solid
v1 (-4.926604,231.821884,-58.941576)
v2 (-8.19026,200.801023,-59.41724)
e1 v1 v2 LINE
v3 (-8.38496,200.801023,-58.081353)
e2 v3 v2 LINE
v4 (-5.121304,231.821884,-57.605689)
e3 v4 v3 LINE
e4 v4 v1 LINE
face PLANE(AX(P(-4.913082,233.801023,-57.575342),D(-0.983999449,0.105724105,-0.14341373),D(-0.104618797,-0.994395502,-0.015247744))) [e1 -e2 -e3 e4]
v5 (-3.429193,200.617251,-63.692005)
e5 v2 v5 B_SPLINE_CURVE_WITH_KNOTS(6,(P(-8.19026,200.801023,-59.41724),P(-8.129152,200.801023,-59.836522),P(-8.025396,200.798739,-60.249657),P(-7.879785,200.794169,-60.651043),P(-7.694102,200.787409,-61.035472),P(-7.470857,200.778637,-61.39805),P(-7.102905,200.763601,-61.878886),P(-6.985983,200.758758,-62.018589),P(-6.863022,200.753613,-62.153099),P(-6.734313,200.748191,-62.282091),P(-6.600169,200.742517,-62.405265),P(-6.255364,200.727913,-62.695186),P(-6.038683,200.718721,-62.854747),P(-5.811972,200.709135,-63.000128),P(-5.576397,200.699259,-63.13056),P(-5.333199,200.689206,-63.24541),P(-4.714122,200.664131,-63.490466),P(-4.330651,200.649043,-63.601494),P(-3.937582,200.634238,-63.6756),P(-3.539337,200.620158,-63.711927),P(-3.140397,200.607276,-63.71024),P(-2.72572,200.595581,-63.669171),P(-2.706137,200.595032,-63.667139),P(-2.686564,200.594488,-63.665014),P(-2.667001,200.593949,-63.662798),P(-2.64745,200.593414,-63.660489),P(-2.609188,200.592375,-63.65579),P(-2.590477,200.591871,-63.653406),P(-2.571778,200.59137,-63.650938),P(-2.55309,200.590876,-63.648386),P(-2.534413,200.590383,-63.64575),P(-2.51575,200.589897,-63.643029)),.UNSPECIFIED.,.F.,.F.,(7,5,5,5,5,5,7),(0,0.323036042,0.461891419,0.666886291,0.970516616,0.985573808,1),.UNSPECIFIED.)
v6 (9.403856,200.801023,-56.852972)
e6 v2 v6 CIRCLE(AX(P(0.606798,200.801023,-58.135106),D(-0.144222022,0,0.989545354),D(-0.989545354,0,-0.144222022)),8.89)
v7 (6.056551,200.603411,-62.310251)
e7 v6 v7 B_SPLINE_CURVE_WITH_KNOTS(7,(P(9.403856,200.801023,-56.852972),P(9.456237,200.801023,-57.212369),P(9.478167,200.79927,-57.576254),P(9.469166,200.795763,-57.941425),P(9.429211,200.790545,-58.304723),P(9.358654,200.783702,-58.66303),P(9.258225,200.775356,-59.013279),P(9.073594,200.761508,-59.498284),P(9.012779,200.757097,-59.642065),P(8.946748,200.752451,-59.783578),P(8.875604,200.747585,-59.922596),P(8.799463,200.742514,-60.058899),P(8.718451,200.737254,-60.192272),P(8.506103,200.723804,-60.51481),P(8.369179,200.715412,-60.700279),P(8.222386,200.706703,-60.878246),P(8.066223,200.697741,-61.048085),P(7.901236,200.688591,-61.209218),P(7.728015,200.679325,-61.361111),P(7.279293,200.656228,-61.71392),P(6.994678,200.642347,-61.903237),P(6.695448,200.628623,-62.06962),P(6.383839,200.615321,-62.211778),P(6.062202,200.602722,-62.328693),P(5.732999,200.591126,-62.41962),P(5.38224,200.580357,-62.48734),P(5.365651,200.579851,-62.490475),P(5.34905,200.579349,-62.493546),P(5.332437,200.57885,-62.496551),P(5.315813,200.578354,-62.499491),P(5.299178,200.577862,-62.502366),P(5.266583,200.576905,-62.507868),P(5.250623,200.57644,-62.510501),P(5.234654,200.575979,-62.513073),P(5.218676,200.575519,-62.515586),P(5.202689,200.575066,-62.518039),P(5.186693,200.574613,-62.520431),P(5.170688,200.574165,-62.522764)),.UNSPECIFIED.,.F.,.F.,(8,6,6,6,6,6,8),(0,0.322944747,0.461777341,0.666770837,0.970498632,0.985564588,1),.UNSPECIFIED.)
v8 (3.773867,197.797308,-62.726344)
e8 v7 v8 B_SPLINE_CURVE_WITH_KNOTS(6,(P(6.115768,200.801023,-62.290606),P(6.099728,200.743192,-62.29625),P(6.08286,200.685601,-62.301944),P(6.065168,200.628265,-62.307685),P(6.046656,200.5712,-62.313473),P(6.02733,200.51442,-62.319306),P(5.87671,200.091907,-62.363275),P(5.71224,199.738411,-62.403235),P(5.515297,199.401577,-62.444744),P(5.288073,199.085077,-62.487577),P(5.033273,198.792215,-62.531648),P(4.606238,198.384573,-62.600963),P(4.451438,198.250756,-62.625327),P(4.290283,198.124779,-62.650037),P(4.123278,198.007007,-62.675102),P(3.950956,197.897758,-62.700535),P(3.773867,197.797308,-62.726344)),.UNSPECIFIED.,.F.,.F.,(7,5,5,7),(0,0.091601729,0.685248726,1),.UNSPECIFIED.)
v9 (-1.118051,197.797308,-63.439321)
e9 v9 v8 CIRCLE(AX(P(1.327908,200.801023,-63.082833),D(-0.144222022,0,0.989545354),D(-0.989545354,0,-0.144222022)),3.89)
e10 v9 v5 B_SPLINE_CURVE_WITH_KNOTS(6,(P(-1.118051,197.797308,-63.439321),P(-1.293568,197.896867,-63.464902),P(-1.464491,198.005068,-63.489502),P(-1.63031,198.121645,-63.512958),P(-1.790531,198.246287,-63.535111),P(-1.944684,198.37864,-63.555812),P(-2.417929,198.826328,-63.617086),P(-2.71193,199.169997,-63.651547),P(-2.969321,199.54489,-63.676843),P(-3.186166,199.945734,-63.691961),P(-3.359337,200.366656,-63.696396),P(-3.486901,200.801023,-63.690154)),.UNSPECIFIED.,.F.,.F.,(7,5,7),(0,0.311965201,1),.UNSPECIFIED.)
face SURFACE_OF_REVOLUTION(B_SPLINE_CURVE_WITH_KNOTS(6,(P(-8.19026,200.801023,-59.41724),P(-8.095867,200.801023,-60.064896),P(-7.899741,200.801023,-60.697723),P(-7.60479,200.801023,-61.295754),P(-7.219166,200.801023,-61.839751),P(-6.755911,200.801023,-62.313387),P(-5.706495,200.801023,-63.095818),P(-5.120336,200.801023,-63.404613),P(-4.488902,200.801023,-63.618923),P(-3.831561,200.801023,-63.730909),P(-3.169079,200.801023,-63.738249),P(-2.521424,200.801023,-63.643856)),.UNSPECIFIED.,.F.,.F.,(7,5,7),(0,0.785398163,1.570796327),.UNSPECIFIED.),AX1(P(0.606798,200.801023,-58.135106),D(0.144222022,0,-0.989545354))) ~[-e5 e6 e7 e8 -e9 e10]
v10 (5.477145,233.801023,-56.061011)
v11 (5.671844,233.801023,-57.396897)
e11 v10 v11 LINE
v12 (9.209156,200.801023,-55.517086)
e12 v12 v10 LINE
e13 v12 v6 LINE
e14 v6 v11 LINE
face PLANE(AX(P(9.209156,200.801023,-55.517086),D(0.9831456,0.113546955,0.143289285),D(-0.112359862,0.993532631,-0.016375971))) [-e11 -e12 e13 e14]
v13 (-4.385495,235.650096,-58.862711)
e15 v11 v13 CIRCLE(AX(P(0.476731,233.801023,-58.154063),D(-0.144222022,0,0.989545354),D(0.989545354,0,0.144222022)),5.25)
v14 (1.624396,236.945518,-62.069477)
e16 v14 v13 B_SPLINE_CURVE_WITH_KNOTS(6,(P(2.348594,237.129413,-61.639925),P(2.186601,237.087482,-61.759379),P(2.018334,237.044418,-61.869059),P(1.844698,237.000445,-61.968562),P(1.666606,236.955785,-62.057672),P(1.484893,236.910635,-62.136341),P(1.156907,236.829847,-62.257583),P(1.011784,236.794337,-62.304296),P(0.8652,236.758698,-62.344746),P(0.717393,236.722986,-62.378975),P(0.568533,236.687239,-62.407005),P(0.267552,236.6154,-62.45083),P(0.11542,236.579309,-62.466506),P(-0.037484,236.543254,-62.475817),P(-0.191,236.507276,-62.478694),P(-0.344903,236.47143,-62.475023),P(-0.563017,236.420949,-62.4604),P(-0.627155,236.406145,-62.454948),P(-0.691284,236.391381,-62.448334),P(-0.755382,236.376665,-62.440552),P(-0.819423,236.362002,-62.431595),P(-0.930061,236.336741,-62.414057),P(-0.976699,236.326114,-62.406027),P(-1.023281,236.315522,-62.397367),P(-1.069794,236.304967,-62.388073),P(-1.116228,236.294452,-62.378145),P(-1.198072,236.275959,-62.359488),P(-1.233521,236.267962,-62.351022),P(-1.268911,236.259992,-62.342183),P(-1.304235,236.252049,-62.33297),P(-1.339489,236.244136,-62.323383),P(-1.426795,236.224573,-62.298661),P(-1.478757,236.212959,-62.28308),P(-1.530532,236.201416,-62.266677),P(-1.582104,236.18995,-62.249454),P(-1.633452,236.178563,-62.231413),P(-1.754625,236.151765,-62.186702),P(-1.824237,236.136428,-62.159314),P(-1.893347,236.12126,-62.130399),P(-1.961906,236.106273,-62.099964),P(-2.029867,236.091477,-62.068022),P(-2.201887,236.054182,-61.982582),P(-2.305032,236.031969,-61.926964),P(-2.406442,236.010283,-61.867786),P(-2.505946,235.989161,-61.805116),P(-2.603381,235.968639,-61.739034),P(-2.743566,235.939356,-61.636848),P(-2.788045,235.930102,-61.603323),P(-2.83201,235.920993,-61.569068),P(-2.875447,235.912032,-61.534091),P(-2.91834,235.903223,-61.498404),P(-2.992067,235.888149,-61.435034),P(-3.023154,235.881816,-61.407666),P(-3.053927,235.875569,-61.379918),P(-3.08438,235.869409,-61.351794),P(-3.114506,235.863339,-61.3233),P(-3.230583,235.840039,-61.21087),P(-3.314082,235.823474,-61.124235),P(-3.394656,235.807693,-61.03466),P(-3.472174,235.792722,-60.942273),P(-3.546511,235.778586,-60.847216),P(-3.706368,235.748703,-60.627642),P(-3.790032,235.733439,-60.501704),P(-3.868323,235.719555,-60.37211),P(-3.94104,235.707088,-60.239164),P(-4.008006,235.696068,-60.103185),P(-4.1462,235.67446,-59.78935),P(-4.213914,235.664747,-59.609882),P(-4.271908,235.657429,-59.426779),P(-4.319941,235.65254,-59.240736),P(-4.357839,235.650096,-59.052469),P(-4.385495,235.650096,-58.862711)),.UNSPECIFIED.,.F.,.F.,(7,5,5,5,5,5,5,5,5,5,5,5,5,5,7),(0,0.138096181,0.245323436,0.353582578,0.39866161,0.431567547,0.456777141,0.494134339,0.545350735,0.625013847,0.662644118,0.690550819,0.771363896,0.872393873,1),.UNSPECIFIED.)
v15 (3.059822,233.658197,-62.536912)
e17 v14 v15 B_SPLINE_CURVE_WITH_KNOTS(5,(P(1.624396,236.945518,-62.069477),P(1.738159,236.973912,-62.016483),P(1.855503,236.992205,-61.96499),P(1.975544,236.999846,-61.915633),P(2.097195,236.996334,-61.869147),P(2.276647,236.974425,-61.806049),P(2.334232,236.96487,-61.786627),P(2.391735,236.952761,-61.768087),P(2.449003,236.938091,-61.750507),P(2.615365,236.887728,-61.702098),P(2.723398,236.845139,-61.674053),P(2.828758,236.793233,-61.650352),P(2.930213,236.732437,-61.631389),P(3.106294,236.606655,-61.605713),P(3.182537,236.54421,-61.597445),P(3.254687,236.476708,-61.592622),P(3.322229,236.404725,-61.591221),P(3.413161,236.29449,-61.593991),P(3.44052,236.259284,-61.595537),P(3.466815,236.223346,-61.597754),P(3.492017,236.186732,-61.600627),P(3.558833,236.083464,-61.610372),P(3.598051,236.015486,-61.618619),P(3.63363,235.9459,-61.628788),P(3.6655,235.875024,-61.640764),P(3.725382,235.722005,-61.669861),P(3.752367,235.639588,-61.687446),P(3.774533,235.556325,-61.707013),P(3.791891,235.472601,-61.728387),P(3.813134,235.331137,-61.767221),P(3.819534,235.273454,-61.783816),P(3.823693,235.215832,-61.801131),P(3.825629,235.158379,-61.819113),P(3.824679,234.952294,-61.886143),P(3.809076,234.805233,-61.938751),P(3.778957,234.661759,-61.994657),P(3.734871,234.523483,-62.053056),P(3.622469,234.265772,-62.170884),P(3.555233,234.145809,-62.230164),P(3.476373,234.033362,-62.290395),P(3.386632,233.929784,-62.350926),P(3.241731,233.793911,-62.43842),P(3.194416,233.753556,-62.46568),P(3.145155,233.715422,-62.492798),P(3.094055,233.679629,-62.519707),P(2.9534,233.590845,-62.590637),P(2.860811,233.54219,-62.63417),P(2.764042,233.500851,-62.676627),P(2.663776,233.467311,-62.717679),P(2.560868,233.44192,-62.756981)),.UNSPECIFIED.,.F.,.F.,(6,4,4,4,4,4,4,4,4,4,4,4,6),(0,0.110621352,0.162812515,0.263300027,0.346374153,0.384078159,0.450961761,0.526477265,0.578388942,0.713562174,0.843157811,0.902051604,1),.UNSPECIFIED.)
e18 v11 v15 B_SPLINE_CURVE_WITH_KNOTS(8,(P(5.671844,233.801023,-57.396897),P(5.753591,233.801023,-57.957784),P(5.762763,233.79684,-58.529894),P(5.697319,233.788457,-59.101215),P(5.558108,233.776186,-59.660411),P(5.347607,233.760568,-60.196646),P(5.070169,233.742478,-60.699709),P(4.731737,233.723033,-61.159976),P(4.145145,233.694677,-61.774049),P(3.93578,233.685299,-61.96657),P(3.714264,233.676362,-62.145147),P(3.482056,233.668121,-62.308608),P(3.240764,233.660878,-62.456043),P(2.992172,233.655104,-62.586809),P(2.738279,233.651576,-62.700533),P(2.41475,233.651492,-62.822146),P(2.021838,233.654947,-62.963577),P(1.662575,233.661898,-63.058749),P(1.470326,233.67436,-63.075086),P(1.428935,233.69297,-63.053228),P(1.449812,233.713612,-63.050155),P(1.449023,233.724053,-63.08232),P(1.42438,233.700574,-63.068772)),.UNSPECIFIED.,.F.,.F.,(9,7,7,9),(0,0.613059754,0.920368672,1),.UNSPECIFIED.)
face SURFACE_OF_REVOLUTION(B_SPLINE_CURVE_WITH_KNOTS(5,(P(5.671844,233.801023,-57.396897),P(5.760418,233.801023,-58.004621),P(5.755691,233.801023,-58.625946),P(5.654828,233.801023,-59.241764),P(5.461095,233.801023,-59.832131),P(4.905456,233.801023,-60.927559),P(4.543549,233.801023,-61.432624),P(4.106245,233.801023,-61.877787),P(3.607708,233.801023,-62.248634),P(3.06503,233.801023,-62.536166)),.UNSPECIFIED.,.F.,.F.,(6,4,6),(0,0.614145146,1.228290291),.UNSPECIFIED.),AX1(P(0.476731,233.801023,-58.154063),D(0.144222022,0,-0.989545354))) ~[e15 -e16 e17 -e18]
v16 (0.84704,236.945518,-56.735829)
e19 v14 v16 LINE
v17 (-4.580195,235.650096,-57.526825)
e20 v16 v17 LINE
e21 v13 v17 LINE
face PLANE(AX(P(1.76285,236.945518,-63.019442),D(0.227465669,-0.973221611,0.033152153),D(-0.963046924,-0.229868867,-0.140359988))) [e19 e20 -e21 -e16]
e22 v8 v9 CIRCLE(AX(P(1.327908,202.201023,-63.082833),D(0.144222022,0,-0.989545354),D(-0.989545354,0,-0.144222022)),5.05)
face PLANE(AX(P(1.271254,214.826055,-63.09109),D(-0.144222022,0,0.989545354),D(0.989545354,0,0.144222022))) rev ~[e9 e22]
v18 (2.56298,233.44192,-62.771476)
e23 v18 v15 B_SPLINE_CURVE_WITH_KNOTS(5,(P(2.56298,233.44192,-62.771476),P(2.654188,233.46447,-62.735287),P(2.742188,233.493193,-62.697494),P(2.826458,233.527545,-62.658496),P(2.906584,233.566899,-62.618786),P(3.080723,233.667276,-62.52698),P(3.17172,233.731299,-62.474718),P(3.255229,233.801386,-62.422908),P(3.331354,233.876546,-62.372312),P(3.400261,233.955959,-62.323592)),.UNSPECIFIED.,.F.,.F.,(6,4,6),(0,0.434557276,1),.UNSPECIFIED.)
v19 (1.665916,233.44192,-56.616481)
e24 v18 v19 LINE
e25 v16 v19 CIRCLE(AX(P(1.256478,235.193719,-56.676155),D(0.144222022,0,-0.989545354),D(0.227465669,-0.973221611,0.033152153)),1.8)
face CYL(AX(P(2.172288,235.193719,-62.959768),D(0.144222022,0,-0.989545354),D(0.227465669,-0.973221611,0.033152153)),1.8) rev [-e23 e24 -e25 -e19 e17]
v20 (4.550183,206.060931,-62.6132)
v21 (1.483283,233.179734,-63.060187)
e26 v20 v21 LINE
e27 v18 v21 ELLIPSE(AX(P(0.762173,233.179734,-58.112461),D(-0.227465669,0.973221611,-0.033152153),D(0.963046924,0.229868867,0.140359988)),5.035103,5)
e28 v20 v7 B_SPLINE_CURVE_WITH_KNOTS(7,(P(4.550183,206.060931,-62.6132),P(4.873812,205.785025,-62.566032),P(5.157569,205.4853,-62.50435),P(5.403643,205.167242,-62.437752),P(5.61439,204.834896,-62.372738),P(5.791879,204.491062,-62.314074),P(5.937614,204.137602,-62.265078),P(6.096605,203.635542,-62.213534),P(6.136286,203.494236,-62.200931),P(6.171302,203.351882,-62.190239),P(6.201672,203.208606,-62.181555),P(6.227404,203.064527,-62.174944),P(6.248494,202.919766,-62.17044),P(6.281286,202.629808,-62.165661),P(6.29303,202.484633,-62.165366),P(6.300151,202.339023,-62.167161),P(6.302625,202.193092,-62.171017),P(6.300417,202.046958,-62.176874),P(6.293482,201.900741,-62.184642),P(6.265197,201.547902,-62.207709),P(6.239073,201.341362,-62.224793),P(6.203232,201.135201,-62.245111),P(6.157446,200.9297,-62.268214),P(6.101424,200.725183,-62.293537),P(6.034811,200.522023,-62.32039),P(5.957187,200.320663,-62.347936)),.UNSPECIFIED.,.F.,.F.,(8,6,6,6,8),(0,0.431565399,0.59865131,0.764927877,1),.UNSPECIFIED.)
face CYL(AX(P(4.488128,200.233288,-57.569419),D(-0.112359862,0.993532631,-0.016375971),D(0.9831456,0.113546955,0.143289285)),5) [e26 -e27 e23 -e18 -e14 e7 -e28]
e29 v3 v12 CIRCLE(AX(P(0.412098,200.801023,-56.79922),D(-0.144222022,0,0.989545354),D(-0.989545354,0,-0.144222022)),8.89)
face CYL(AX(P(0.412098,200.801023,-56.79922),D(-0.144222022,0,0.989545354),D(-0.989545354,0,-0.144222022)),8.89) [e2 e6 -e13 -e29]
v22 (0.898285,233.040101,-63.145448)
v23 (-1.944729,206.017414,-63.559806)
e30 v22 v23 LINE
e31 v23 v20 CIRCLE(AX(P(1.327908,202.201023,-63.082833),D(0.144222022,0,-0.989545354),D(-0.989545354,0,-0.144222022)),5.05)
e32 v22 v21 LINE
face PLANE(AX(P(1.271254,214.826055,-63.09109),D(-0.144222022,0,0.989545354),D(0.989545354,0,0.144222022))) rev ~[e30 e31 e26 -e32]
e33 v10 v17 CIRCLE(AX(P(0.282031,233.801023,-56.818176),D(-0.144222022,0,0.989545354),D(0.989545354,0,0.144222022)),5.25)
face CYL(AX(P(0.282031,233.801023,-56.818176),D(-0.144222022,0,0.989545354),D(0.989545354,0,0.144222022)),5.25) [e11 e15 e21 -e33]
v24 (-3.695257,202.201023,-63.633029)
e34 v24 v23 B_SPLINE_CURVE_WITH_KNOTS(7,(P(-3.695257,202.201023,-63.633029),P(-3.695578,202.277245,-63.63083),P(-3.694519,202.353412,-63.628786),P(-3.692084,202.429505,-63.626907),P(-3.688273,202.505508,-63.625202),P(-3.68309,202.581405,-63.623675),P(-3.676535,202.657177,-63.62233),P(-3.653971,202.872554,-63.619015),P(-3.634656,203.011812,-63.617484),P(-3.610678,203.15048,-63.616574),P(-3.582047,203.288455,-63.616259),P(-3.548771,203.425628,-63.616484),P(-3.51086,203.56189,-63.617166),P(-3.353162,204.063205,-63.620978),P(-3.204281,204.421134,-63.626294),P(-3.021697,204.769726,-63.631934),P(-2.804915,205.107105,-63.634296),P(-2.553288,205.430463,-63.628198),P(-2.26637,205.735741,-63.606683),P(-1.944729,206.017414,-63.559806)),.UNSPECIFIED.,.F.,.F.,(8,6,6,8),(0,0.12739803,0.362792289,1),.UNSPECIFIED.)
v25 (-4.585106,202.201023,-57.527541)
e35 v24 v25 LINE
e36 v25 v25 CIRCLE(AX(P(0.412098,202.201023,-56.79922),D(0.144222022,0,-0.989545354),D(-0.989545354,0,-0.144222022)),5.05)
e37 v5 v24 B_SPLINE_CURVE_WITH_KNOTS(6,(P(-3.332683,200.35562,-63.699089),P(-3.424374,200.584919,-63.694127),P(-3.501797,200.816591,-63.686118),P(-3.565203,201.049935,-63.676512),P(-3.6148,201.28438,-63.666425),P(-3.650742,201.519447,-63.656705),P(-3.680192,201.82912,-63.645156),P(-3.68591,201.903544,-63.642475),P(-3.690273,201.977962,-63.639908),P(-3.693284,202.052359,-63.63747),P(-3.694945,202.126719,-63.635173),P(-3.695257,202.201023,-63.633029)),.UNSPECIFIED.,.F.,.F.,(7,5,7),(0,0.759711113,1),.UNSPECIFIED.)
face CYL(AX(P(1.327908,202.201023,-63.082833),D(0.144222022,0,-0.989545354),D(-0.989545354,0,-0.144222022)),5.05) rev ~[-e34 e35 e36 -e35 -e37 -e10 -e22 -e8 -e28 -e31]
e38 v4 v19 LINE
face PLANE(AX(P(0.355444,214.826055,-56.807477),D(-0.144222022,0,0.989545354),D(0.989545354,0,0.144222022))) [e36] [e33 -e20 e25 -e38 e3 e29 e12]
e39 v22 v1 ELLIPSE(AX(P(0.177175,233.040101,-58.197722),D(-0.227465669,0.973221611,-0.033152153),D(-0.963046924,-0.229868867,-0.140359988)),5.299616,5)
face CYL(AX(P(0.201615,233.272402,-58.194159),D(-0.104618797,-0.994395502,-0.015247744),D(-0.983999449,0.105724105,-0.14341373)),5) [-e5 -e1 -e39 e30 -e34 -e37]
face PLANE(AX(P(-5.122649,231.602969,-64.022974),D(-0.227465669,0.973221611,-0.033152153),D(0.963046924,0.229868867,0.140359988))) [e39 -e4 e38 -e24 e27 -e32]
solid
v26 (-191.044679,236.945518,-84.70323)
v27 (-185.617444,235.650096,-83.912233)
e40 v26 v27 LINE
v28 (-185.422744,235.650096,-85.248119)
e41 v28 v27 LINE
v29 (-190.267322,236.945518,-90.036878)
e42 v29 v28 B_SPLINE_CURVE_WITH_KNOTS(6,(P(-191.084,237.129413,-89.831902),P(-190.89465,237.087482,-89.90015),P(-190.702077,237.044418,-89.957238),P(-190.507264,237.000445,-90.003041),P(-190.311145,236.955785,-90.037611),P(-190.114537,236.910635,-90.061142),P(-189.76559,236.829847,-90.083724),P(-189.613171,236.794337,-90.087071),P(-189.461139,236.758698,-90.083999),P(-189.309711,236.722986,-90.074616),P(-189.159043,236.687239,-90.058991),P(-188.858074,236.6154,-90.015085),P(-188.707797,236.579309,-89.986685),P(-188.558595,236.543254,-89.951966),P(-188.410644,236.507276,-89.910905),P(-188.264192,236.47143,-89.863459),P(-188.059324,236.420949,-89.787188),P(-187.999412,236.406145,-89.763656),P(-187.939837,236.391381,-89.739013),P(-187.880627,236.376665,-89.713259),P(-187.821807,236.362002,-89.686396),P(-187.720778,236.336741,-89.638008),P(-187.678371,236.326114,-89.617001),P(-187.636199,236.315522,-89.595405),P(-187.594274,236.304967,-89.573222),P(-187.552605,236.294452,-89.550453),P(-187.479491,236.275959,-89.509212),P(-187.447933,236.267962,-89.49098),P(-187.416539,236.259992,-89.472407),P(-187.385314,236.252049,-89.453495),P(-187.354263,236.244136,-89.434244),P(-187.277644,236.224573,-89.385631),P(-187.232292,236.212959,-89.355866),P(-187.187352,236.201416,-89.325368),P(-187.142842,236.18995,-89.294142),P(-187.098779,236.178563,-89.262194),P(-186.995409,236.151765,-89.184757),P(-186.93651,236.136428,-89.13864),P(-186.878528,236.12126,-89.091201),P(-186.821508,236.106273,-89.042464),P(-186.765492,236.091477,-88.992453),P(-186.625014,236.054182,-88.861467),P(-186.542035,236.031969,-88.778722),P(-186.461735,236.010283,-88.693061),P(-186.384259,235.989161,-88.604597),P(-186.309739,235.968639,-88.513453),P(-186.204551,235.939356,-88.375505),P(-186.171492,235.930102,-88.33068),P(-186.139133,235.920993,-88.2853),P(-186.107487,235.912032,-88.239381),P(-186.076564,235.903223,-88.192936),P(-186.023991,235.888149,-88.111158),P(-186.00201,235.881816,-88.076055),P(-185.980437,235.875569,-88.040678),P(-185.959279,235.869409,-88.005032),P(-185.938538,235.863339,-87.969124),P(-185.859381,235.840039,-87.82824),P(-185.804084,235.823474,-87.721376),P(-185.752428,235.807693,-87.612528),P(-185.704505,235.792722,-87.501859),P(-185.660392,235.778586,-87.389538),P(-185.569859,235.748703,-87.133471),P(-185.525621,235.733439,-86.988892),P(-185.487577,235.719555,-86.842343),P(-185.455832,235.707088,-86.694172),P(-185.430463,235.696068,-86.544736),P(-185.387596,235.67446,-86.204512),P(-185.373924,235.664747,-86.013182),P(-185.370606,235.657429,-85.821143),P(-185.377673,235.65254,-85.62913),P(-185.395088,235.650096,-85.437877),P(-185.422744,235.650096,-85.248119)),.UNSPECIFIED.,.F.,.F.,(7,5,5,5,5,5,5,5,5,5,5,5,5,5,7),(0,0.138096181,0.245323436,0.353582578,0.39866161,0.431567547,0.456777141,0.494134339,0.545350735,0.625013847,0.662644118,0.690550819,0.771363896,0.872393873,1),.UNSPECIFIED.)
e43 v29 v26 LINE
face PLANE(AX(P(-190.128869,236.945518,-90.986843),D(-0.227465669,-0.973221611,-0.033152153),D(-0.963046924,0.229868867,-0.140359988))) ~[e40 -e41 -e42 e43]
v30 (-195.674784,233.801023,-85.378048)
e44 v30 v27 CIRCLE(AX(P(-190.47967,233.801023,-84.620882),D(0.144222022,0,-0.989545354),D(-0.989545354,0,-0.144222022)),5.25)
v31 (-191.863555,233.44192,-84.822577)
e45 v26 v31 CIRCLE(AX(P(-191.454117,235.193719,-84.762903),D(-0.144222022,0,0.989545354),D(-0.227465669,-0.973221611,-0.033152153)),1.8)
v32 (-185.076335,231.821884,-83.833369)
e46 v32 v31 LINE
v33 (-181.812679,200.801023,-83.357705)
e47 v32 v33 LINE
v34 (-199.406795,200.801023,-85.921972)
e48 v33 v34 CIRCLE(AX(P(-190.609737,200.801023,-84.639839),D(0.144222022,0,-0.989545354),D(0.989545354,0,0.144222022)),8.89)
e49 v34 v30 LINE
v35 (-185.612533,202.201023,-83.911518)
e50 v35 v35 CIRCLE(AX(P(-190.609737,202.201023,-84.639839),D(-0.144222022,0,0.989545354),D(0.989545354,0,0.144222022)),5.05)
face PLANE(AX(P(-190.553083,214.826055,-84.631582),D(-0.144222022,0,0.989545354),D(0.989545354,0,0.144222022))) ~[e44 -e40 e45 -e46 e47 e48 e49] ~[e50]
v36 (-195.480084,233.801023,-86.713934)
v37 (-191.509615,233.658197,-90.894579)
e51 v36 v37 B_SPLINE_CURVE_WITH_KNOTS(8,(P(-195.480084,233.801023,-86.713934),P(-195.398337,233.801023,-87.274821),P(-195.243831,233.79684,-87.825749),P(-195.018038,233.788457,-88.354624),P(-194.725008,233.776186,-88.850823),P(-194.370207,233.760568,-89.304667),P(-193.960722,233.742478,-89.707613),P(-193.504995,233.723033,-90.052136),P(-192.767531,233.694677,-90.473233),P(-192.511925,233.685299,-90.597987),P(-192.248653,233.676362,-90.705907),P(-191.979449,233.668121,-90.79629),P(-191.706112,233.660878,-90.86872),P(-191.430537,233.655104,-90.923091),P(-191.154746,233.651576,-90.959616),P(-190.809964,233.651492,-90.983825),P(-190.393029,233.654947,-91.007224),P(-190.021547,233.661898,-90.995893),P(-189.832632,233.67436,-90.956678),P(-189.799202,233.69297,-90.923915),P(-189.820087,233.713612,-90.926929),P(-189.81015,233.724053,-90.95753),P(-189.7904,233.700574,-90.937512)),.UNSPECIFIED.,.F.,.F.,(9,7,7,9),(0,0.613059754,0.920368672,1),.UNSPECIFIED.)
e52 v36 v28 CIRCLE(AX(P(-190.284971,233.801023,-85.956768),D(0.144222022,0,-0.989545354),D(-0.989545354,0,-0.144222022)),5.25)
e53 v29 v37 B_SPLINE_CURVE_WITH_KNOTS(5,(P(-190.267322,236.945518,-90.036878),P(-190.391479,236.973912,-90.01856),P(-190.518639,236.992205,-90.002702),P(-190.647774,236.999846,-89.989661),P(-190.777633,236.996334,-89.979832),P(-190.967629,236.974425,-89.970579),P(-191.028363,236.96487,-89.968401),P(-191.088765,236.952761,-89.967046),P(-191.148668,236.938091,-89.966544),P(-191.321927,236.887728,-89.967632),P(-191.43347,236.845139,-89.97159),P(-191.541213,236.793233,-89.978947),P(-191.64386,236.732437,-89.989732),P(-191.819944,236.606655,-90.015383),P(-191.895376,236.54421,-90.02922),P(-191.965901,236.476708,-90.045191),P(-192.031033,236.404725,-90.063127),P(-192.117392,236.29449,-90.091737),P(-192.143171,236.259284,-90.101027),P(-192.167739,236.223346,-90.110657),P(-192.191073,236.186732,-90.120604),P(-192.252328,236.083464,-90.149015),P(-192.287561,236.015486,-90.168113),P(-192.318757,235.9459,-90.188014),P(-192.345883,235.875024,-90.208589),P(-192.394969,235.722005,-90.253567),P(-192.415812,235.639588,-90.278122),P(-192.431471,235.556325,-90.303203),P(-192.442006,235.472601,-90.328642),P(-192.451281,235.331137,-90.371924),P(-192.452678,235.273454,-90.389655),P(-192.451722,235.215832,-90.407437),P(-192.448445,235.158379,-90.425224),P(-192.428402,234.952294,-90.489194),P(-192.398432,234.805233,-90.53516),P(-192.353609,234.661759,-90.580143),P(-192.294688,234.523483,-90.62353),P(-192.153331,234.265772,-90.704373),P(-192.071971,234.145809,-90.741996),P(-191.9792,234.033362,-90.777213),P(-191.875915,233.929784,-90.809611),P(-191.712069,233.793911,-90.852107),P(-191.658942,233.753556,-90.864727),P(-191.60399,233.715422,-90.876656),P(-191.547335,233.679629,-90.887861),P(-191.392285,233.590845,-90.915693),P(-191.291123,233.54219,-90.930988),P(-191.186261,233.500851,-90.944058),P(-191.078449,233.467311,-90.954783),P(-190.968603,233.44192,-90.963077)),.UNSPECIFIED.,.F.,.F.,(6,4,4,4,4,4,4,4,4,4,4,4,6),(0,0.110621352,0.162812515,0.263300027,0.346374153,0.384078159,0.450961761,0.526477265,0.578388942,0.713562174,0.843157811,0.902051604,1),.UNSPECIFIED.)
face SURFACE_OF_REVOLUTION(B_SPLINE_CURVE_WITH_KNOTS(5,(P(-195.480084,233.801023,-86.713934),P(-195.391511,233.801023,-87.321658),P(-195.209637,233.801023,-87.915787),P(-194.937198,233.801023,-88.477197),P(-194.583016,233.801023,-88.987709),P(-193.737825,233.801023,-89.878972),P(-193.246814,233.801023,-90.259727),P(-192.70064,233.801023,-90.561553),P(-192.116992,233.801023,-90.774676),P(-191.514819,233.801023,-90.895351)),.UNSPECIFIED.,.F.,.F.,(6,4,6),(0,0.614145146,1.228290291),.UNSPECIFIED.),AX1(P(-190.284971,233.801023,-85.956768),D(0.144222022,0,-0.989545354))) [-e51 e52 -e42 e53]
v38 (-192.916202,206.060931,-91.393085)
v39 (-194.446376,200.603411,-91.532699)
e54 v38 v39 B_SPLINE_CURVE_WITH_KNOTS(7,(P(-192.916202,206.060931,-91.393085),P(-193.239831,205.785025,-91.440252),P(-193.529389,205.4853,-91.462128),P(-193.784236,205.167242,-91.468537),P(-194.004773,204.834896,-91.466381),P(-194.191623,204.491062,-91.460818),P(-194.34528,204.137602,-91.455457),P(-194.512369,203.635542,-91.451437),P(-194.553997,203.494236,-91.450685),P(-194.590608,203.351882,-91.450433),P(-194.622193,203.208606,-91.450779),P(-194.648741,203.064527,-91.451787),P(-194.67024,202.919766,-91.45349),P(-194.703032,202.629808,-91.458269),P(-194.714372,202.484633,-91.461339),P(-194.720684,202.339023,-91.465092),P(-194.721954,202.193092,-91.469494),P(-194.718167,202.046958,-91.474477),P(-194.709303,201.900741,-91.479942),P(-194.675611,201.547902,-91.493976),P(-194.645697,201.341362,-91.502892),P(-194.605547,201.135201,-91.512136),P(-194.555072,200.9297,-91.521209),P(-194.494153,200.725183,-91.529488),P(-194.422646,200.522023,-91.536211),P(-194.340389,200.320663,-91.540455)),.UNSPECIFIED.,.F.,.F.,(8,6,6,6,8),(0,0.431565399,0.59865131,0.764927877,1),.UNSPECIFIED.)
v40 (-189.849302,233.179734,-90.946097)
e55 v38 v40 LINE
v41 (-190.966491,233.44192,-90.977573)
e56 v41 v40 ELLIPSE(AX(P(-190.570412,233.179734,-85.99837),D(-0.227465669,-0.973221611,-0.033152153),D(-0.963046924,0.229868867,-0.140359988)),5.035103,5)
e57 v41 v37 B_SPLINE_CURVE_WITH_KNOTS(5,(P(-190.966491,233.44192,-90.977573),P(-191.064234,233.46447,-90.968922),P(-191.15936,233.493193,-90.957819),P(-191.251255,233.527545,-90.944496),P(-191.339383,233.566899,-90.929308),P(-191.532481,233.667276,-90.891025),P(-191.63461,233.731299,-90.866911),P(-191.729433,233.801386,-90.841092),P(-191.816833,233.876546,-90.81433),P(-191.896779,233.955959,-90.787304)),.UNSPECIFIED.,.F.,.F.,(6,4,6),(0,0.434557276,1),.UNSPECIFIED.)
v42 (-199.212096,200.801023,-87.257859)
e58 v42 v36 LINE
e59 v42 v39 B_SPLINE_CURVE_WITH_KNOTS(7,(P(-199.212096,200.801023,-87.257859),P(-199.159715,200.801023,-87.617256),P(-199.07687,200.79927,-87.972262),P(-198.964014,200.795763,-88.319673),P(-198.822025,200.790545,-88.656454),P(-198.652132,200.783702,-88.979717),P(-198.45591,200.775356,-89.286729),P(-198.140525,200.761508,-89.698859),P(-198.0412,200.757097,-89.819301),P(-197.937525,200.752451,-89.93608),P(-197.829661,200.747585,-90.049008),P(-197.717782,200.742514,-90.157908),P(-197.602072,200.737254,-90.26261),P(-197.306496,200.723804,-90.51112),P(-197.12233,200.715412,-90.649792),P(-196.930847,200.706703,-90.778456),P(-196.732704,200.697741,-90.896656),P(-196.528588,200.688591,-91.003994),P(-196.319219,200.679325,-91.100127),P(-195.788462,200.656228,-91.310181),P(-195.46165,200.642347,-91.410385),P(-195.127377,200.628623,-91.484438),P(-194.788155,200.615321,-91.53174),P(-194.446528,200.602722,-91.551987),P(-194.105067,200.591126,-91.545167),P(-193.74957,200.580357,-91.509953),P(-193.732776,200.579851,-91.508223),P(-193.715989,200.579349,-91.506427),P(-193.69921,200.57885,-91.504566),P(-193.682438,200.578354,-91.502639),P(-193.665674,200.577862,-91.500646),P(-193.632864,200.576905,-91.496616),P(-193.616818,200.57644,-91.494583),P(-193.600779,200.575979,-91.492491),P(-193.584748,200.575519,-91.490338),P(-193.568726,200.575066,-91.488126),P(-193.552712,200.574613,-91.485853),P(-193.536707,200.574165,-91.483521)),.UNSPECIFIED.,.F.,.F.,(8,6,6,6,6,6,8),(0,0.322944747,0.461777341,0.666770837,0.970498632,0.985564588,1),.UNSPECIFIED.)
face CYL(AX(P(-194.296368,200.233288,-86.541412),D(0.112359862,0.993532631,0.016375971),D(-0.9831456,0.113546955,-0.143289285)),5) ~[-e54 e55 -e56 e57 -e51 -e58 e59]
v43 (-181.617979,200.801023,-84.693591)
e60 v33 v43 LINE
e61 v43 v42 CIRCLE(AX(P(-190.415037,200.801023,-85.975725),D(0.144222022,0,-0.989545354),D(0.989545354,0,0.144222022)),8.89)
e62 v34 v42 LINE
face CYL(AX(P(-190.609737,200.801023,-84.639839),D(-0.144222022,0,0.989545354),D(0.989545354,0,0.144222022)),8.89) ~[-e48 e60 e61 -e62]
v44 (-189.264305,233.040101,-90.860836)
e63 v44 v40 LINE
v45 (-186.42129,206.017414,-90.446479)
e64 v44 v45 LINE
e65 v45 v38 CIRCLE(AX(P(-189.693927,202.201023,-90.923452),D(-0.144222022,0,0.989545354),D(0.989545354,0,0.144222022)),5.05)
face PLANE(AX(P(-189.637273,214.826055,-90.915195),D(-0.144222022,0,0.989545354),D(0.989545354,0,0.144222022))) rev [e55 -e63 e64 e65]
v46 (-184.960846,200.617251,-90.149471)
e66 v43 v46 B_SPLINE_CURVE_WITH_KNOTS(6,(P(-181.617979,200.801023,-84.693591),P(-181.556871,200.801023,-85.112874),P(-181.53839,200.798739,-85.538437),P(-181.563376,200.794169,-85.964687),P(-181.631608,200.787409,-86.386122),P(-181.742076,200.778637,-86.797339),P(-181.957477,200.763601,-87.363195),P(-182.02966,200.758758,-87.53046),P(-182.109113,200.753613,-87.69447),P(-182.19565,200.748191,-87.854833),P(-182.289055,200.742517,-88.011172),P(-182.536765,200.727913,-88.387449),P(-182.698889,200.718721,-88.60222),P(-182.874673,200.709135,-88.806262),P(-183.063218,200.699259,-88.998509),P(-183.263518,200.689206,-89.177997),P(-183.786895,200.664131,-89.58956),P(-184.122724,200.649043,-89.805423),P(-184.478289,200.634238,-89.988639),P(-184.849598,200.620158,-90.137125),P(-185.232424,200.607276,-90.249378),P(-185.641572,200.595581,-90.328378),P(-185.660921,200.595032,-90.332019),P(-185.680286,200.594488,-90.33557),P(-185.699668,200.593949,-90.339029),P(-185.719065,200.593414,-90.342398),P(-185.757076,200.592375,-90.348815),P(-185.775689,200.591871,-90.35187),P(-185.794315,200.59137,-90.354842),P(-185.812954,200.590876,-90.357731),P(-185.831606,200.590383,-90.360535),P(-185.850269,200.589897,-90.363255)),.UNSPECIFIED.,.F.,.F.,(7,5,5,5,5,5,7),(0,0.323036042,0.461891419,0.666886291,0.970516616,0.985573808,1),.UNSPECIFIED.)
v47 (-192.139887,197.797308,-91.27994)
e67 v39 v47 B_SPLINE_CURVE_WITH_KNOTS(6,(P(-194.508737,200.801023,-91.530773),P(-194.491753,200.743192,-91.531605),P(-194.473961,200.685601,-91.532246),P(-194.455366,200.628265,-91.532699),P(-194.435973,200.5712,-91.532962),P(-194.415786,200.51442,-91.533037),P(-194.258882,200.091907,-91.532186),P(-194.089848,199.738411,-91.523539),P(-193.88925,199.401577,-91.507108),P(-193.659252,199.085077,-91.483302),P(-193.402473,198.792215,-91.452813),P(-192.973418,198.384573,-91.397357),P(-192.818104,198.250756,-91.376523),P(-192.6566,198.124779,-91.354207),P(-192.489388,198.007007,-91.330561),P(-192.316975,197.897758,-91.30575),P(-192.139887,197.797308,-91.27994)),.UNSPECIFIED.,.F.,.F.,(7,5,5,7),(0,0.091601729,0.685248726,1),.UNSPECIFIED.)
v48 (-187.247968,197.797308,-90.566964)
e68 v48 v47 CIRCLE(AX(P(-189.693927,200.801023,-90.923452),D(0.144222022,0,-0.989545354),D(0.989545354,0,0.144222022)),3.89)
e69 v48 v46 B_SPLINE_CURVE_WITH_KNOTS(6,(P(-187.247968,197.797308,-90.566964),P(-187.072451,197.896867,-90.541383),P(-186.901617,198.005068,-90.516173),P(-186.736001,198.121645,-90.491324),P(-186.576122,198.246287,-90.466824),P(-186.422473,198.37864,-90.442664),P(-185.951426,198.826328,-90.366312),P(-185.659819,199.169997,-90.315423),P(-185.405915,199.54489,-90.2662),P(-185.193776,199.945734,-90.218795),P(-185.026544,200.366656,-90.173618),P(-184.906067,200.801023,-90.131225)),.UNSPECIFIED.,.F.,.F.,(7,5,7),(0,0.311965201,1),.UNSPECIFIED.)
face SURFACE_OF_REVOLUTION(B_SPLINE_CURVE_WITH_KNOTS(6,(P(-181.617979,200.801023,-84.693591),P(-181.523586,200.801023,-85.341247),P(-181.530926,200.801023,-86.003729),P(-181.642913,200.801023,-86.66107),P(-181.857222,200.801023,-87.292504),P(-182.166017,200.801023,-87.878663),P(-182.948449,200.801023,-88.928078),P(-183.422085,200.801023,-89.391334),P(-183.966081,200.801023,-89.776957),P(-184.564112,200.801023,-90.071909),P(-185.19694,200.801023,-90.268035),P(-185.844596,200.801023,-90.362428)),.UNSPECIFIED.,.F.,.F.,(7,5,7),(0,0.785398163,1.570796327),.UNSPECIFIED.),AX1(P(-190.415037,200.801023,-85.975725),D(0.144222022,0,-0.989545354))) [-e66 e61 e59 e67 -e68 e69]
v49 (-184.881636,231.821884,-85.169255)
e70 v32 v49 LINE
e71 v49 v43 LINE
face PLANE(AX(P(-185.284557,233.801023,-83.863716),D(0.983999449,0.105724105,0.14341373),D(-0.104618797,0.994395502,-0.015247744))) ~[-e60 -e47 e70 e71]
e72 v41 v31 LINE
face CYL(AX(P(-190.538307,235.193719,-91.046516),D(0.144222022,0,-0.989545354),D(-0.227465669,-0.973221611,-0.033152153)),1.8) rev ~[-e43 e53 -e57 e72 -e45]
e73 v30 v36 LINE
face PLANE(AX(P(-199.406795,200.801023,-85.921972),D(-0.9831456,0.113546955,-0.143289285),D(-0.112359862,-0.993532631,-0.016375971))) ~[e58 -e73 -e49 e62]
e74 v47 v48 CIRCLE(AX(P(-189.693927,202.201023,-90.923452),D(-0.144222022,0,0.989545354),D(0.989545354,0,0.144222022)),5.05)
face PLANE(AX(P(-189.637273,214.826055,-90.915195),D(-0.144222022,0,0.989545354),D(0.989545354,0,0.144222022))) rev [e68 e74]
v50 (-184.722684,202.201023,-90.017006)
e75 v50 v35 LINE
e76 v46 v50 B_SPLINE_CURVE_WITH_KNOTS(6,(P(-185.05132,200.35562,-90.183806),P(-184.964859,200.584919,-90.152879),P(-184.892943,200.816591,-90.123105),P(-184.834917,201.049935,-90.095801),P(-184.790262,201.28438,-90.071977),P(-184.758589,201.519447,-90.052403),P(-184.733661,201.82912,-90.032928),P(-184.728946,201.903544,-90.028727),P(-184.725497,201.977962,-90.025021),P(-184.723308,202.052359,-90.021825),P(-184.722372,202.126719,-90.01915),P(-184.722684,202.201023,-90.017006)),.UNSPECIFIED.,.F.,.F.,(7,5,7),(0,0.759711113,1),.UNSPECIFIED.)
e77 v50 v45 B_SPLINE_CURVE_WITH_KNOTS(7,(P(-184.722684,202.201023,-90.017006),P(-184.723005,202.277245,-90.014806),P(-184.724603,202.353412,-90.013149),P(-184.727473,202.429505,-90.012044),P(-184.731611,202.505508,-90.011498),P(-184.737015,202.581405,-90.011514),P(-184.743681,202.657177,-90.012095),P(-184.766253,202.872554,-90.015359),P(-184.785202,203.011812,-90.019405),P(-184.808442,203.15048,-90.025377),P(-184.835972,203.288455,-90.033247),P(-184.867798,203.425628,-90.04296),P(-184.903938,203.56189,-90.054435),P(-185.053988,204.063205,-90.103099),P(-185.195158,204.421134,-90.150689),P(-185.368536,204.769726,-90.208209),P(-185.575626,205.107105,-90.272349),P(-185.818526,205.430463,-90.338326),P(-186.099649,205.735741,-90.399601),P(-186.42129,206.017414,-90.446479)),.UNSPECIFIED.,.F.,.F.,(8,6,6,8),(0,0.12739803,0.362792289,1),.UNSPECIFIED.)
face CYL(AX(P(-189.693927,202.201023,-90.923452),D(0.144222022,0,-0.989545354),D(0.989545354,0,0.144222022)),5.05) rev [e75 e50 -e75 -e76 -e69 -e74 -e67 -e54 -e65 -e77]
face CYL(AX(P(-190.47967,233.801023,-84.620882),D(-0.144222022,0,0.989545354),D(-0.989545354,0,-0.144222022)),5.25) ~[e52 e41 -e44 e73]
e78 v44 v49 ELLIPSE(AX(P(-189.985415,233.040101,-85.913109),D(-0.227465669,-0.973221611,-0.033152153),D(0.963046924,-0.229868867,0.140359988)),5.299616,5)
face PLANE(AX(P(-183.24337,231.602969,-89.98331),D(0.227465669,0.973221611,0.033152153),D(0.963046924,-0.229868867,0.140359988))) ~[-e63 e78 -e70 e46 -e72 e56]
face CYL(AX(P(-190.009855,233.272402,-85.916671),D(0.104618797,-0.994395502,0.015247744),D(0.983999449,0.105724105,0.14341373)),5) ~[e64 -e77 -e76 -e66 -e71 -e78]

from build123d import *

# Parameters (mm, degrees)
BASE_EXTRUDE_DEPTH = 6.35
FILLET1_R          = 5
CUT_EXTRUDE1_REACH = 245.045
SKETCH4_R          = 5.05
CUT_EXTRUDE2_DEPTH = 6.35


with BuildPart() as part:
    # Sketch1 → Base Extrude (new body)
    with BuildSketch(Plane(origin=(8.114628625, -3.283425705, -55.67660861), x_dir=(-0.98954535441322, 0, -0.14422202175539944), z_dir=(0.14422202175539944, 0, -0.98954535441322))):
        with BuildLine():
            Line((-1.106091457, 204.084448373), (2.665349365, 237.084448373))
            ThreePointArc((2.665349365, 237.084448373), (7.915349365, 242.334448373), (13.165349365, 237.084448373))
            Line((13.165349365, 237.084448373), (16.673908543, 204.084448373))
            ThreePointArc((16.673908543, 204.084448373), (7.783908543, 195.194448373), (-1.106091457, 204.084448373))
        make_face()
    extrude(amount=BASE_EXTRUDE_DEPTH)

    # Fillet1
    fillet1_edges = [part.edges().sort_by_distance(p)[0] for p in [
        (1.19784127, 239.051022668, -63.101789298),
        (8.258960253, 217.301022668, -62.072661274),
        (1.327907925, 191.911022668, -63.082832637),
        (-5.733211058, 217.301022668, -64.111960662),
    ]]
    fillet(fillet1_edges, radius=FILLET1_R)

    # Cut-Extrude1: up to this face of the body (flat: up to its plane)
    cut_extrude1_end = Plane(part.part.faces().sort_by_distance((0.359463879, 213.5685835, -56.806890849))[0])
    # Sketch3 → Cut-Extrude1 (cut, up to the picked face)
    with BuildSketch(Plane(origin=(9.030438463, -3.283425705, -61.96022161), x_dir=(-0.98954535441322, 0, -0.14422202175539942), z_dir=(0.14422202175539942, 0, -0.98954535441322)), mode=Mode.PRIVATE) as cut_extrude1_sk1:
        with BuildLine():
            Line((14.3026167, 234.886394841), (6.516843813, 236.725345777))
            ThreePointArc((6.516843813, 236.725345777), (5.178808874, 238.890908637), (7.344371734, 240.228943576))
            Line((7.344371734, 240.228943576), (15.130144622, 238.38999264))
            ThreePointArc((15.130144622, 238.38999264), (16.468179561, 236.22442978), (14.3026167, 234.886394841))
        make_face()
    cut_extrude1_tool1 = split(extrude(cut_extrude1_sk1.sketch, amount=-CUT_EXTRUDE1_REACH, mode=Mode.PRIVATE), bisect_by=cut_extrude1_end, keep=Keep.BOTH, mode=Mode.PRIVATE)
    add(cut_extrude1_tool1.solids().sort_by(Axis((-1.6799, 234.274244, -63.521208), (-0.14422202175539942, 0, 0.98954535441322)))[0], mode=Mode.SUBTRACT)


with BuildPart() as body_2:
    # Mirror2: mirrored copy
    add(part.part.mirror(Plane(origin=(-103.213448145, 0, -15.042920567), x_dir=(-0.14422202175539944, 0, 0.98954535441322), z_dir=(0.98954535441322, 0, 0.14422202175539944))))


with BuildPart() as part_1:
    add(part.part)

    # Sketch4 → Cut-Extrude2 (cut)
    with BuildSketch(Plane(origin=(9.030438463, 0, -61.96022161), x_dir=(-0.98954535441322, 0, -0.14422202175539944), z_dir=(0.14422202175539944, 0, -0.98954535441322))):
        with Locations((7.783908543, 202.201022668)):
            Circle(SKETCH4_R)
    cut_extrude2 = extrude(amount=-CUT_EXTRUDE2_DEPTH, mode=Mode.SUBTRACT)


with BuildPart() as body_2_1:
    add(body_2.part)

    # Mirror3: Cut-Extrude2 across plane
    add(cut_extrude2.mirror(Plane(origin=(-103.213448145, 0, -15.042920567), x_dir=(-0.14422202175539944, 0, 0.98954535441322), z_dir=(0.98954535441322, 0, 0.14422202175539944))), mode=Mode.SUBTRACT)


solid = Compound([part_1.part, body_2_1.part])
